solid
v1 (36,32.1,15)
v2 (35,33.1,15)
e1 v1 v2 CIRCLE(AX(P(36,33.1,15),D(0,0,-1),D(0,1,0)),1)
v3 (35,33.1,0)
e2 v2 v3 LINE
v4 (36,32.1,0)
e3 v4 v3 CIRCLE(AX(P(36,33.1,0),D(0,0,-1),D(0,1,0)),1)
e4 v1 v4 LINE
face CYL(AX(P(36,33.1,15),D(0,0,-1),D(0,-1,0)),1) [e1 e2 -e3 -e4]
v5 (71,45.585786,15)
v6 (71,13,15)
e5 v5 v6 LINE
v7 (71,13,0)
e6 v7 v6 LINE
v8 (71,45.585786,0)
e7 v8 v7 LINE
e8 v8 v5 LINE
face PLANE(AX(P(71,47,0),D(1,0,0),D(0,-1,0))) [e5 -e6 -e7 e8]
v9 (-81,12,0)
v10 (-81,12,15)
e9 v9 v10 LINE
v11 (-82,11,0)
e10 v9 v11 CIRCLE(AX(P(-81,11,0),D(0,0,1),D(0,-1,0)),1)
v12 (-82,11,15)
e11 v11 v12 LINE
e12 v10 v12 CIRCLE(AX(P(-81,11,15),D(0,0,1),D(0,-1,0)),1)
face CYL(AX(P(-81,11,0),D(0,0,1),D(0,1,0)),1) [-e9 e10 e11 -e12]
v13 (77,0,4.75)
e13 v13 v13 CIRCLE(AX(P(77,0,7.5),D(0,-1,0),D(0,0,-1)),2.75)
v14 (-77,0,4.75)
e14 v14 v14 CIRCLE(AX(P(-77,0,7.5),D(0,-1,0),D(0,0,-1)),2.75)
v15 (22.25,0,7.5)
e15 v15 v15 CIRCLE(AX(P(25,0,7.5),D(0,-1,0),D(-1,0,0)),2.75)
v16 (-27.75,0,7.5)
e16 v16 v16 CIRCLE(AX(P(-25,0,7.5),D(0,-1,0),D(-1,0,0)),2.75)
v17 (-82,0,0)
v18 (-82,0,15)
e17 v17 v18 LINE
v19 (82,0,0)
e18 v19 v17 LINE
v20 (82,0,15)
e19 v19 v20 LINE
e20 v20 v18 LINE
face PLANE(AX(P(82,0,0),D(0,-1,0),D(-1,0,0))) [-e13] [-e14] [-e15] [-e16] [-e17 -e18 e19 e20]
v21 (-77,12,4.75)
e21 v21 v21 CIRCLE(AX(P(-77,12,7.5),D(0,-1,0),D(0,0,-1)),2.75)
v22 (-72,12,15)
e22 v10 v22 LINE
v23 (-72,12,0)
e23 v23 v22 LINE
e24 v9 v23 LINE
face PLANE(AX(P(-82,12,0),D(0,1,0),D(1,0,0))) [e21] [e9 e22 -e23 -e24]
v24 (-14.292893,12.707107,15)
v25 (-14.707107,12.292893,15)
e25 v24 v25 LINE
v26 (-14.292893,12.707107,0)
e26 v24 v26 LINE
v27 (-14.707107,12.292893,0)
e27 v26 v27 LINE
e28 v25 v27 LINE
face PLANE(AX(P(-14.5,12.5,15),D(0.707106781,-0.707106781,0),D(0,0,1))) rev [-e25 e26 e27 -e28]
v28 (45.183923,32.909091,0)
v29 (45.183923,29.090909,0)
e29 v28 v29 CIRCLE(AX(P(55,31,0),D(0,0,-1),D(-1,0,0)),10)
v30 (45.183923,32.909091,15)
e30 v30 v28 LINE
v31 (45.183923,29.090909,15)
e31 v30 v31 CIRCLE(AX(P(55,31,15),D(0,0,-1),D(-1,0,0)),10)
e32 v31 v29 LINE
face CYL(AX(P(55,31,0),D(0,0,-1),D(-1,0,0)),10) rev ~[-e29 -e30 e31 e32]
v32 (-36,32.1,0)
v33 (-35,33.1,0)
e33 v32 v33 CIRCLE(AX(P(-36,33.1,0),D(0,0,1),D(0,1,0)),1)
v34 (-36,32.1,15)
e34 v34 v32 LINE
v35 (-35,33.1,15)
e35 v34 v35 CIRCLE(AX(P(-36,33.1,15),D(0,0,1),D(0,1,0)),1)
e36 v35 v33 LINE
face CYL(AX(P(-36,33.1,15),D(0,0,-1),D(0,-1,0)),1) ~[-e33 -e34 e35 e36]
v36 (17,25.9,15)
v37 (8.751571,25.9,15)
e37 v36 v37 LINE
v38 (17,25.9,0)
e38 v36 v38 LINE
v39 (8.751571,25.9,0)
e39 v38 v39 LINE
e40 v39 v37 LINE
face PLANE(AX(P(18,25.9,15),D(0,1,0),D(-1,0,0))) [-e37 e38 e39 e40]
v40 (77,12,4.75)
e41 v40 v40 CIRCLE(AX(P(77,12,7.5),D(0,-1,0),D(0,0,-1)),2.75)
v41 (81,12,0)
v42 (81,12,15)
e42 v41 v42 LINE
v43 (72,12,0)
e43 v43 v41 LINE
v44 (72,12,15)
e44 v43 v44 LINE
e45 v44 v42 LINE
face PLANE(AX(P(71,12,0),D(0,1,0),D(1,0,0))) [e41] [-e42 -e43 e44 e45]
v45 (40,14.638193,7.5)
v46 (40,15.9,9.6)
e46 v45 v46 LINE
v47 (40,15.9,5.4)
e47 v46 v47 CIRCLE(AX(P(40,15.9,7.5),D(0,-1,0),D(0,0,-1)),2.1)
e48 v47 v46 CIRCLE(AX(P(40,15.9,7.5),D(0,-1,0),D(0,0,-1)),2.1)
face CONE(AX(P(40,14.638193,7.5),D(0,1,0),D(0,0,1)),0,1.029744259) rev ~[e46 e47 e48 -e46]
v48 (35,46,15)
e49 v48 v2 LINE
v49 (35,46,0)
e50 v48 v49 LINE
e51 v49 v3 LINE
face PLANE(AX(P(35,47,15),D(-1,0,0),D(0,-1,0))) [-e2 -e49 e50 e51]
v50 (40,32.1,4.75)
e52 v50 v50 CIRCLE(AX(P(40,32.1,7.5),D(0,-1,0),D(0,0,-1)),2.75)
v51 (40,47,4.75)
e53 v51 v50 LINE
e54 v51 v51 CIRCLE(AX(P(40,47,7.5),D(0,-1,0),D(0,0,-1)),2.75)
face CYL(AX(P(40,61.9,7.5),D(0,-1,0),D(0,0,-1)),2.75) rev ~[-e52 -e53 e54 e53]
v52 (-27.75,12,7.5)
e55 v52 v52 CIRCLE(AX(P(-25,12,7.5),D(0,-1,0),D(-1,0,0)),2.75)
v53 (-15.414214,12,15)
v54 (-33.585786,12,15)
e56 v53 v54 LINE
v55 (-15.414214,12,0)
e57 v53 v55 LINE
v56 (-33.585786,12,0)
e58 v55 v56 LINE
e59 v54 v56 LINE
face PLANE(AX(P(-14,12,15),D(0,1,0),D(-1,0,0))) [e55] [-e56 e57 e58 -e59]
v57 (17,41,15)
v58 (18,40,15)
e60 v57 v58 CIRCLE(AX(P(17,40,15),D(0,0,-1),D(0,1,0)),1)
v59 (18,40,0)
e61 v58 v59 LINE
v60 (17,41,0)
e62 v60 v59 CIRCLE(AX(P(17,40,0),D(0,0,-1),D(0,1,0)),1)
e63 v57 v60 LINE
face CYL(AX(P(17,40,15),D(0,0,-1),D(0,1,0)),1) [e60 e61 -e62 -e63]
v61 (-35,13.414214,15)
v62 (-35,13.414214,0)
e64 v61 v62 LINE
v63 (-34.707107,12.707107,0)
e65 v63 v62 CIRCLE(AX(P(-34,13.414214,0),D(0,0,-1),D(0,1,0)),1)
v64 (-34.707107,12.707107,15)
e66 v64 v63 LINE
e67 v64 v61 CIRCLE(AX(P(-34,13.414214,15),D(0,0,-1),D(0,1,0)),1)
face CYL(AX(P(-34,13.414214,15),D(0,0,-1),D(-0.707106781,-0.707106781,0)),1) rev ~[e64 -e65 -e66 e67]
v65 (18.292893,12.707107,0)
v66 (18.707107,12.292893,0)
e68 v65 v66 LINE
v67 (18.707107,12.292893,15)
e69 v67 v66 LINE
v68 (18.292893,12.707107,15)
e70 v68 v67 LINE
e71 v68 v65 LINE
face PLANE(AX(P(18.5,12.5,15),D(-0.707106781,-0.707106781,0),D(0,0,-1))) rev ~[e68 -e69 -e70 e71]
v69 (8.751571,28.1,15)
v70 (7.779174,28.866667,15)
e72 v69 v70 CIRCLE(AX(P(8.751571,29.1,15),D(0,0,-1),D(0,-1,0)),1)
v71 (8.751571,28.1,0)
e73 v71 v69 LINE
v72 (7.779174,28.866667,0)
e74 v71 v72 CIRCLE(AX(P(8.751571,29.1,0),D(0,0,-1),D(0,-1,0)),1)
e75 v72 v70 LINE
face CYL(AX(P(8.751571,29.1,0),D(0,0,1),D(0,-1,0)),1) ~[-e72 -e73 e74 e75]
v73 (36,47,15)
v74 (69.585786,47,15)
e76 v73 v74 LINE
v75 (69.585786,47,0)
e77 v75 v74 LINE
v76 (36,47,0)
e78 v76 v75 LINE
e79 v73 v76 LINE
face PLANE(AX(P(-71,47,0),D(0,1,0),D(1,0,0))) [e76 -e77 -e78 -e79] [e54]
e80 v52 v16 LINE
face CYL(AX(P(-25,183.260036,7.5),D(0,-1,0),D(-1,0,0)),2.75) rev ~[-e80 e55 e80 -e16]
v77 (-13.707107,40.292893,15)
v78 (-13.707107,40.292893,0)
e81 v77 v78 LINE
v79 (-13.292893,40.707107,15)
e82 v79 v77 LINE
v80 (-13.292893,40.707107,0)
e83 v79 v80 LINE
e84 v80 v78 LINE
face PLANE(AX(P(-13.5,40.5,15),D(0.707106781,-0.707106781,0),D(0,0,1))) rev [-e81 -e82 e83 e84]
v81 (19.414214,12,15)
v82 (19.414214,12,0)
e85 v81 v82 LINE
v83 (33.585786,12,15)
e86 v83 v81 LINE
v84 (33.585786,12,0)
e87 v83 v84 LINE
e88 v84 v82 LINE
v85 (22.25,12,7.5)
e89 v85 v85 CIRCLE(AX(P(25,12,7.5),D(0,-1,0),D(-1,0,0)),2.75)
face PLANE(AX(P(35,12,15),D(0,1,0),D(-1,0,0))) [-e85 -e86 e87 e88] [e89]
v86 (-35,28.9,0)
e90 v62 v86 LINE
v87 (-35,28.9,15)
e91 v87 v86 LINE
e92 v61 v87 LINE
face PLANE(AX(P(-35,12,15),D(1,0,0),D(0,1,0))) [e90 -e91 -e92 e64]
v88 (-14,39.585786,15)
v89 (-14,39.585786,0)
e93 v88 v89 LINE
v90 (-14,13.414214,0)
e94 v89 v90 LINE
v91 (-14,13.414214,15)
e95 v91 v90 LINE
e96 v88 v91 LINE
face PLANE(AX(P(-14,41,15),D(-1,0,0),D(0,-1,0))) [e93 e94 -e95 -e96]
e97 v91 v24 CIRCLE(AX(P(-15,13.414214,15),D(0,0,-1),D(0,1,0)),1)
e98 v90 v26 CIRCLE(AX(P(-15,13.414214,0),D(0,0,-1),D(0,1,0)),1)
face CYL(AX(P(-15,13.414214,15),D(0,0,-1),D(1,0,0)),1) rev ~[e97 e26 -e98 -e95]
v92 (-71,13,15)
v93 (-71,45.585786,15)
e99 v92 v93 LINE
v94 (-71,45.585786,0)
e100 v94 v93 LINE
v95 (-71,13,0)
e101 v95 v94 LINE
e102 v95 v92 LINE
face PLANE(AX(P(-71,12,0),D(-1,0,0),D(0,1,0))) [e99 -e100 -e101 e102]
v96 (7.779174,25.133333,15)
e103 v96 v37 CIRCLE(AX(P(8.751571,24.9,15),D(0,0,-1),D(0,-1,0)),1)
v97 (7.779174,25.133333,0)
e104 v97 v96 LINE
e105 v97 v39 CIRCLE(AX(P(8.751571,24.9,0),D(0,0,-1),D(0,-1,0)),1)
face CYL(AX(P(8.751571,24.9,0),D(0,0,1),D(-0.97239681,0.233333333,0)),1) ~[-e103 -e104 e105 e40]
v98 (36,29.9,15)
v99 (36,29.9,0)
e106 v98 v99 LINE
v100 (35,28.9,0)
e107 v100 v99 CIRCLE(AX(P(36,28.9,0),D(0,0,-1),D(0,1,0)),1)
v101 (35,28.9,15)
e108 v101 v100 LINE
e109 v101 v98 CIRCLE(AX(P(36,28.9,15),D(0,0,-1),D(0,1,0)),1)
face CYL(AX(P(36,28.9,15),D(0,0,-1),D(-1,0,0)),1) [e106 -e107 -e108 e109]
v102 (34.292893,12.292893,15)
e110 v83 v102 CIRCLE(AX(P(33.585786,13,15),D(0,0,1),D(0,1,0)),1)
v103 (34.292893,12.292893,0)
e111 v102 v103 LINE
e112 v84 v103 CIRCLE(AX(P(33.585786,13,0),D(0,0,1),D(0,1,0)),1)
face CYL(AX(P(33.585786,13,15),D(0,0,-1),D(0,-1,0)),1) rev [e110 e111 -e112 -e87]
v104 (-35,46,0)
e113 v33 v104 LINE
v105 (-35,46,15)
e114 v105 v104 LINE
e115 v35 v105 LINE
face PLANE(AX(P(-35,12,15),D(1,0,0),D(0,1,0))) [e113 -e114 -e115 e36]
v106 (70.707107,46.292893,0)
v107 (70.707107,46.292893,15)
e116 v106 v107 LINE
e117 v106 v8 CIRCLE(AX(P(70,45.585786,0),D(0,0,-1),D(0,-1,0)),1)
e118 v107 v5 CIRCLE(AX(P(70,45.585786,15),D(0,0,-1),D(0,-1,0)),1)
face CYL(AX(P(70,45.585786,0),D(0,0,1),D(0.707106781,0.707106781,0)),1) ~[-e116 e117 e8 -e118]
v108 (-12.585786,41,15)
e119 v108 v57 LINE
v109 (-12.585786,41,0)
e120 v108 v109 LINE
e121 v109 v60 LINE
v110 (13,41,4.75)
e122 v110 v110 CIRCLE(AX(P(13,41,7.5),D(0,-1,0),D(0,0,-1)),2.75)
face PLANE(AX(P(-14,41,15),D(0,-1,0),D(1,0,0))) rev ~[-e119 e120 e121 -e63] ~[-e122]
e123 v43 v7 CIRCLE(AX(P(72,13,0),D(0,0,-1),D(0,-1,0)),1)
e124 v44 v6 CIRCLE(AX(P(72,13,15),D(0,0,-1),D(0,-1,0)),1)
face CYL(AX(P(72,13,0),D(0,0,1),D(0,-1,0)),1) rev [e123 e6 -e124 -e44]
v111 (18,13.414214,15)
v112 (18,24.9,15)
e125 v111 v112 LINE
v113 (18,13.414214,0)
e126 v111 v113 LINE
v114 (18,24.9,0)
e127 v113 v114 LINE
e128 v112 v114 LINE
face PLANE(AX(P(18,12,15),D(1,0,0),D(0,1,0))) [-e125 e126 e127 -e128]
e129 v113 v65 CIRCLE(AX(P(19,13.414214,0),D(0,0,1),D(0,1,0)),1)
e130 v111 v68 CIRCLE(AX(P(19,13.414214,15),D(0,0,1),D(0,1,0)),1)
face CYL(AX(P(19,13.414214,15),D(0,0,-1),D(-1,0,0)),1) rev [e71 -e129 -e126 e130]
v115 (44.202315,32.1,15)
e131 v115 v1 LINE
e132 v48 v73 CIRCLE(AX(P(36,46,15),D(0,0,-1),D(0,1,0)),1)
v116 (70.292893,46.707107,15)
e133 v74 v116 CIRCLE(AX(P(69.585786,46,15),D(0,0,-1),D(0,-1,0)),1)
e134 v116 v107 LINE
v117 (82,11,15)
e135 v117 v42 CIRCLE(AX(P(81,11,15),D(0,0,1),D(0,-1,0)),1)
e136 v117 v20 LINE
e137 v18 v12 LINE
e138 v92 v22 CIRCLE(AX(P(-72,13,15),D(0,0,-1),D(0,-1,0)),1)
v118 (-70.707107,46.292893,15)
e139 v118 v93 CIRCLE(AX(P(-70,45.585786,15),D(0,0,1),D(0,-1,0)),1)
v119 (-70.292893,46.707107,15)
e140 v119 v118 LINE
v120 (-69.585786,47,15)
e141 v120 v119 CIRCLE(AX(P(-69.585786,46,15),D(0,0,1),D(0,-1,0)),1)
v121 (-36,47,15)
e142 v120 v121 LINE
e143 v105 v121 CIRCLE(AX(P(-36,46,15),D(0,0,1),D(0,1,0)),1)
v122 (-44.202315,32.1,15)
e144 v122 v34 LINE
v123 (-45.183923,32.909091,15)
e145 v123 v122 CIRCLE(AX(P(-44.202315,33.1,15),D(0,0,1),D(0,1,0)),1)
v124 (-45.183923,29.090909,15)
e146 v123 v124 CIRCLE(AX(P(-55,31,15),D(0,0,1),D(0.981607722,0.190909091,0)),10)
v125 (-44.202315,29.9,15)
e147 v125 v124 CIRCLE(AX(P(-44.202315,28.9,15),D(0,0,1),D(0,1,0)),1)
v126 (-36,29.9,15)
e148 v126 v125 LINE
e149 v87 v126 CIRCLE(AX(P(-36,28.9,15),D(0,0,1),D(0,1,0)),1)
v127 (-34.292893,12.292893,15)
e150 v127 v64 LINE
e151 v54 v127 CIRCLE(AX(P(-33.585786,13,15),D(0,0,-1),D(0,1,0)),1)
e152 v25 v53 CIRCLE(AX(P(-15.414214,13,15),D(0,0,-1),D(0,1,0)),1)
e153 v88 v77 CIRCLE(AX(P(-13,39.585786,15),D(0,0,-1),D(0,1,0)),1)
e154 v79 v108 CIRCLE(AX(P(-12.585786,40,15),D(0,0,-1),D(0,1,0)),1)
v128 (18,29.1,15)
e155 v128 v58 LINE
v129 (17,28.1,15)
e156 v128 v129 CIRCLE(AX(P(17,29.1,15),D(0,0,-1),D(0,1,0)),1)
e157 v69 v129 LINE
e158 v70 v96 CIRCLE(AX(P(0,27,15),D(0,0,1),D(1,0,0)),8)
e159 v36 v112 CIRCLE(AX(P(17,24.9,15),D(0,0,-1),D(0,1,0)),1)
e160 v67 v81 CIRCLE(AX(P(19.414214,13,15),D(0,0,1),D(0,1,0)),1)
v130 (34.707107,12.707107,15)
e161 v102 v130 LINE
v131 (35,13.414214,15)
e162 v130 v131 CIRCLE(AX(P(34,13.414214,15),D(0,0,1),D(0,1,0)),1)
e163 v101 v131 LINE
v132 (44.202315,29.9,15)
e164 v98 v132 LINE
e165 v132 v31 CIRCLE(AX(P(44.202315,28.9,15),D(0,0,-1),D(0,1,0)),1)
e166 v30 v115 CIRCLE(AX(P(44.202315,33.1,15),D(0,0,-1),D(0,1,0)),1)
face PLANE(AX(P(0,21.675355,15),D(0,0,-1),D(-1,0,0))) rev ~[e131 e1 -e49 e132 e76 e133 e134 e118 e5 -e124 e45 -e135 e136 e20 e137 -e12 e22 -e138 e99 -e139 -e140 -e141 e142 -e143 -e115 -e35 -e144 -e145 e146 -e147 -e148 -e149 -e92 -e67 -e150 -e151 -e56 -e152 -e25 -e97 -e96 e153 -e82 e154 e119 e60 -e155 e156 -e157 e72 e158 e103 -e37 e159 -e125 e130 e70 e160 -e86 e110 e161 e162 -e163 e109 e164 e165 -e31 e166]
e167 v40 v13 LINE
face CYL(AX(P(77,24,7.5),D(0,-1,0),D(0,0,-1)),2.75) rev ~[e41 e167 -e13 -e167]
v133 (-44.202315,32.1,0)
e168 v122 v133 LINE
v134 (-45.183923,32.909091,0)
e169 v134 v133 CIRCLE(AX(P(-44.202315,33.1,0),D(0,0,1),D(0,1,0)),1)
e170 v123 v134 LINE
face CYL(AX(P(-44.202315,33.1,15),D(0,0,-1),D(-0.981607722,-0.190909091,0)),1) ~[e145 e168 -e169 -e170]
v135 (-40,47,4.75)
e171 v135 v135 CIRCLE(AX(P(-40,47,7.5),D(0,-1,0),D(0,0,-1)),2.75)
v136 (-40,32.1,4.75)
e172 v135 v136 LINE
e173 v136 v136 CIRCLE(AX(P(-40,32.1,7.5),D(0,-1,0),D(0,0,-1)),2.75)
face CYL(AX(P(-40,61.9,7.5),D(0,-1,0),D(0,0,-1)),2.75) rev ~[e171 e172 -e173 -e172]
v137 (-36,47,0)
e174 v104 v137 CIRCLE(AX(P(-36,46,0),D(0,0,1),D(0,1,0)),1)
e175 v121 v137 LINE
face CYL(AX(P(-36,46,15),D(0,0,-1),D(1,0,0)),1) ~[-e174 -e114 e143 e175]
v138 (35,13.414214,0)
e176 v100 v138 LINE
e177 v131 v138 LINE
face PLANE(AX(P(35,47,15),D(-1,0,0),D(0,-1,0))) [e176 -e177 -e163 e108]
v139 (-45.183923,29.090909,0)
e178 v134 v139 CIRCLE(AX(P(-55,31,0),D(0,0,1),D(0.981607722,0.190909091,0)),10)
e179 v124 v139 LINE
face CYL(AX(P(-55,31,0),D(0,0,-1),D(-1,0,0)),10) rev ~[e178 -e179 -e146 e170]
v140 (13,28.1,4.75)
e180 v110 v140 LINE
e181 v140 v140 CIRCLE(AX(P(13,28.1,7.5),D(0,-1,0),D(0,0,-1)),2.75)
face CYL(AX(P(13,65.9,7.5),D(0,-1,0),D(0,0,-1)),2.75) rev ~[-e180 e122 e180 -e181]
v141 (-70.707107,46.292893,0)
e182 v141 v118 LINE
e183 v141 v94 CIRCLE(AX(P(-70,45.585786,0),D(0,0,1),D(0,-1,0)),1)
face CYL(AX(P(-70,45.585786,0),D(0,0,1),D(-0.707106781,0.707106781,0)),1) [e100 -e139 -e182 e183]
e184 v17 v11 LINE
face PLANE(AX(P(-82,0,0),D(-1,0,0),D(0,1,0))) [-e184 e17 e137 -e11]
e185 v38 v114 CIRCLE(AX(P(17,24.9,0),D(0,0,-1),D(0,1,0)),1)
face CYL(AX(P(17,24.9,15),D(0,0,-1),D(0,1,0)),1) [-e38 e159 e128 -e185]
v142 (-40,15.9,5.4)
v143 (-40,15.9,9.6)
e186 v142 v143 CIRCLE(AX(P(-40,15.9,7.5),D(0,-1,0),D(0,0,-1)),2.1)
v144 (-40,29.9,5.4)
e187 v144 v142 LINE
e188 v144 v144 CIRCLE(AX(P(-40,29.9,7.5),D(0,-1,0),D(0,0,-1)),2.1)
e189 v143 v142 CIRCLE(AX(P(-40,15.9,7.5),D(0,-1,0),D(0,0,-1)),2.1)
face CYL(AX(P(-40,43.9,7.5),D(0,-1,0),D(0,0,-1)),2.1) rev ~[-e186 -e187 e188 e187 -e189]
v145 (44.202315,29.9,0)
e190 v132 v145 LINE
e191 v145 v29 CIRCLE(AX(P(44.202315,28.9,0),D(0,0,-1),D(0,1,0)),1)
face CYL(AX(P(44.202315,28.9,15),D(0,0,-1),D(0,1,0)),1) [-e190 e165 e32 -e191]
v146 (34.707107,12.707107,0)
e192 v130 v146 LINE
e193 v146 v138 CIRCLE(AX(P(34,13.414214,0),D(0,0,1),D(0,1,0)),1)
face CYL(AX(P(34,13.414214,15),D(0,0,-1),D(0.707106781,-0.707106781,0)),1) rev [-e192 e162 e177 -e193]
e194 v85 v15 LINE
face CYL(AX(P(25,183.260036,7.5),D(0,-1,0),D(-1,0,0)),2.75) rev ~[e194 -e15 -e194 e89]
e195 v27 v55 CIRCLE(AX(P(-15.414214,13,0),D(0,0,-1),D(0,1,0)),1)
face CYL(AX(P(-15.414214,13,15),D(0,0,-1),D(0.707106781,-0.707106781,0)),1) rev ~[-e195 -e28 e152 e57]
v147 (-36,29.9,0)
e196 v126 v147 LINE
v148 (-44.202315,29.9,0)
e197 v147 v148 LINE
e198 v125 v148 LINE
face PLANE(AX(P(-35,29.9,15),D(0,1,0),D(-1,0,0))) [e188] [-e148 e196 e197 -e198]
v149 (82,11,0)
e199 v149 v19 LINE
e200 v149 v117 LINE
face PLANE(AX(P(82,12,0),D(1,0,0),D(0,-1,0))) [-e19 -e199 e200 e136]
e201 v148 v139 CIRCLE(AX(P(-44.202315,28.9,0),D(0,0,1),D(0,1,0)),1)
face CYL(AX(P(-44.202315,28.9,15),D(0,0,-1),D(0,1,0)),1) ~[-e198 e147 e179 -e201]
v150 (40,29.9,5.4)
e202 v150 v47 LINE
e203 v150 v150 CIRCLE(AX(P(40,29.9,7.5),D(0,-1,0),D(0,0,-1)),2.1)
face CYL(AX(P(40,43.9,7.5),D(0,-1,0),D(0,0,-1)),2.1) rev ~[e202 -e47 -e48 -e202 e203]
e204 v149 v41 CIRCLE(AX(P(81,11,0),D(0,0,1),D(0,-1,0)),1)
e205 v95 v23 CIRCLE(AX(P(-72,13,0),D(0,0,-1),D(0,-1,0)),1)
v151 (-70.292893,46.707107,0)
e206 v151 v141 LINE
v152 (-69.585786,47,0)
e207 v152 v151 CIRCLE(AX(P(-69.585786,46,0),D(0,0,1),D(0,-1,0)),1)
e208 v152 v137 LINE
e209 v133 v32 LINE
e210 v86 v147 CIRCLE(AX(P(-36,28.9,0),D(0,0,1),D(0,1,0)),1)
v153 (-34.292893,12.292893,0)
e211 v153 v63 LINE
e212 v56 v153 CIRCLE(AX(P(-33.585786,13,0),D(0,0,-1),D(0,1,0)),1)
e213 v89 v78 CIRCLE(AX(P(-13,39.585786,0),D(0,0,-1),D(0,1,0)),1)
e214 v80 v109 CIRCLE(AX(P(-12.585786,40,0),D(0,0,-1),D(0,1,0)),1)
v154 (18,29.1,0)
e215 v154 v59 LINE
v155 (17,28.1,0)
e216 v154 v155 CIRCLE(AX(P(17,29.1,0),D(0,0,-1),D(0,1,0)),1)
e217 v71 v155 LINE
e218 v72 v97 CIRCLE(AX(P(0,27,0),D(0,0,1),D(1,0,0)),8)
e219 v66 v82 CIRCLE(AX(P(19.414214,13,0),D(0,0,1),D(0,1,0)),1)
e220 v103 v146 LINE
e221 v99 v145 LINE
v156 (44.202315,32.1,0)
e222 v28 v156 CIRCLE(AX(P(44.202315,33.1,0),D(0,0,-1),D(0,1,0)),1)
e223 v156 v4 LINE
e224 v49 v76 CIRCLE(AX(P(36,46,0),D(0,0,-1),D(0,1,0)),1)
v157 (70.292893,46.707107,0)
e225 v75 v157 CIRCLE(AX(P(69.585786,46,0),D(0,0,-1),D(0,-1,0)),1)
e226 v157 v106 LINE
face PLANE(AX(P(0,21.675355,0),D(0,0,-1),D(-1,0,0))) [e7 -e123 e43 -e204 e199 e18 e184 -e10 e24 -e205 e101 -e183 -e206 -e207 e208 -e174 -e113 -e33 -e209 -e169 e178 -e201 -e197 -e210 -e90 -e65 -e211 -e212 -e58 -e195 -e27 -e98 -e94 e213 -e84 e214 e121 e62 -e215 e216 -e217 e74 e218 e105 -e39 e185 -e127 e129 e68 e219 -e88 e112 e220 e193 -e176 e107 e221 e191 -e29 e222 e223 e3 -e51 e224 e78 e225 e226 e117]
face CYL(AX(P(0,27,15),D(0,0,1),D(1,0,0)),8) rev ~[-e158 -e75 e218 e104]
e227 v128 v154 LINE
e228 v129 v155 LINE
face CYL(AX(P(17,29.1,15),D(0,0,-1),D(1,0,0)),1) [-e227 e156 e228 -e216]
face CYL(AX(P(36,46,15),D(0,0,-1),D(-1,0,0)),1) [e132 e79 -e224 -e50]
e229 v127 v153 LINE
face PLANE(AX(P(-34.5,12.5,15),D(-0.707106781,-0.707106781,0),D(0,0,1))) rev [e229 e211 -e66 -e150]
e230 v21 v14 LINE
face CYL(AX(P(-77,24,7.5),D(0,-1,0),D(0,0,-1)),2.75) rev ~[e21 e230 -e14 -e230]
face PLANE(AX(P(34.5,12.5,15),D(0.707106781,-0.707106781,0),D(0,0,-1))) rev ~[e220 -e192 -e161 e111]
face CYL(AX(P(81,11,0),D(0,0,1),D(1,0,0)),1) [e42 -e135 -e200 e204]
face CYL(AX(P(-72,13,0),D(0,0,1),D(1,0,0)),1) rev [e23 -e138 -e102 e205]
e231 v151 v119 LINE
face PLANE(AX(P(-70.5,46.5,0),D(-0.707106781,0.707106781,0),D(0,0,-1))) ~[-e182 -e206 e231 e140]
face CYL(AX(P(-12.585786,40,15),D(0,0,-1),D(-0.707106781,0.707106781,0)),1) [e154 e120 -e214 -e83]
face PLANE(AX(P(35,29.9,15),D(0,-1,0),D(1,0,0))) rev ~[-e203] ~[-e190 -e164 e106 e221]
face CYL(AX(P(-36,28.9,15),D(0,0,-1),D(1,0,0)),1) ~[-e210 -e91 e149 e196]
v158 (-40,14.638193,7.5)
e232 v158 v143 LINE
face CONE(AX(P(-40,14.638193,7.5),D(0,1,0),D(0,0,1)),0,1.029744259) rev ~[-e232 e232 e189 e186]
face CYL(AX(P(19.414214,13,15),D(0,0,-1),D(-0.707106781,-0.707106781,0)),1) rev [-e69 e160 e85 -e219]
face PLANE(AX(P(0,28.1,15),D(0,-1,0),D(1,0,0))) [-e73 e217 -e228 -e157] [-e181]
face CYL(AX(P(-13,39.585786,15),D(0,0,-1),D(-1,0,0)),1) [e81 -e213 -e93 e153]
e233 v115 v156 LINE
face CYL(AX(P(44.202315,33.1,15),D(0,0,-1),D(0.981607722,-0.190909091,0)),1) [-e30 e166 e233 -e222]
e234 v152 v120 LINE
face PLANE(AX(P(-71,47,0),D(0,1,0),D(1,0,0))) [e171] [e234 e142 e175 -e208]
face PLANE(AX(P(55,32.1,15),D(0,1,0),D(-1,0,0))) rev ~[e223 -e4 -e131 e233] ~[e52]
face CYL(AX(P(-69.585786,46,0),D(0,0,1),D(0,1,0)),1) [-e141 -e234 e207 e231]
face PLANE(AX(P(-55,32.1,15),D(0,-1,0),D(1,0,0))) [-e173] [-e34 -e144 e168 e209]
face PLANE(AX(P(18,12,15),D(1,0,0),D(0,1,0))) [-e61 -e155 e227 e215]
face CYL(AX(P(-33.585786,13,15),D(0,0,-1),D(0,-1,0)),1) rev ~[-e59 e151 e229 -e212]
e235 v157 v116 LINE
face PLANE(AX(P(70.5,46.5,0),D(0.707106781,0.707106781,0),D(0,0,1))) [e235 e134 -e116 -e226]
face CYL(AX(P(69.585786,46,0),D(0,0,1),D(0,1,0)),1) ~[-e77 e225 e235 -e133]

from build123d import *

# Parameters (mm, degrees)
BOSS_EXTRUDE1_DEPTH            = 15
CUT_EXTRUDE1_REACH             = 17
SKETCH2_R                      = 8
CUT_EXTRUDE2_REACH             = 17
SKETCH3_R                      = 10
F_5_5_5_5_DIAMETER_HOLE1_D     = 5.5
F_5_5_5_5_DIAMETER_HOLE1_DEPTH = 12
CUT_EXTRUDE3_REACH             = 17
CUT_EXTRUDE4_REACH             = 17
F_5_5_5_5_DIAMETER_HOLE2_D     = 5.5
F_5_5_5_5_DIAMETER_HOLE2_DEPTH = 14.9
F_5_5_5_5_DIAMETER_HOLE3_D     = 5.5
F_5_5_5_5_DIAMETER_HOLE3_DEPTH = 18.9
M5_TAPPED_HOLE2_D              = 4.2
M5_TAPPED_HOLE2_DEPTH          = 14
M5_TAPPED_HOLE2_TIP            = 1.2618073
CHAMFER1_SIZE                  = 1
CHAMFER2_SIZE                  = 1
CHAMFER3_SIZE                  = 1
FILLET1_R                      = 1
F_5_5_5_5_DIAMETER_HOLE4_D     = 5.5


with BuildPart() as part:
    # Sketch1 → Boss-Extrude1 (new body)
    with BuildSketch(Plane.XY):
        Polygon((82, 0), (-82, 0), (-82, 12), (-71, 12), (-71, 47), (71, 47), (71, 12), (82, 12), align=None)
    extrude(amount=BOSS_EXTRUDE1_DEPTH)

    # Sketch2 → Cut-Extrude1 (cut, up to next)
    with BuildSketch(Plane.XY.offset(15), mode=Mode.PRIVATE) as cut_extrude1_sk1:
        with Locations((0, 27)):
            Circle(SKETCH2_R)
    cut_extrude1_tool1 = extrude(cut_extrude1_sk1.sketch, amount=-CUT_EXTRUDE1_REACH, mode=Mode.PRIVATE) & part.part
    add(cut_extrude1_tool1.solids().sort_by_distance((0, 27, 15))[0], mode=Mode.SUBTRACT)

    # Sketch3 → Cut-Extrude2 (cut, up to next)
    with BuildSketch(Plane(origin=(0, 0, 0), x_dir=(-1, 0, 0), z_dir=(0, 0, -1)), mode=Mode.PRIVATE) as cut_extrude2_sk1:
        with Locations((-55, 31)):
            Circle(SKETCH3_R)
    cut_extrude2_tool1 = extrude(cut_extrude2_sk1.sketch, amount=-CUT_EXTRUDE2_REACH, mode=Mode.PRIVATE) & part.part
    add(cut_extrude2_tool1.solids().sort_by_distance((55, 31, 0))[0], mode=Mode.SUBTRACT)
    # Sketch3 → Cut-Extrude2 (cut, up to next)
    with BuildSketch(Plane(origin=(0, 0, 0), x_dir=(-1, 0, 0), z_dir=(0, 0, -1)), mode=Mode.PRIVATE) as cut_extrude2_sk2:
        with Locations((55, 31)):
            Circle(SKETCH3_R)
    cut_extrude2_tool2 = extrude(cut_extrude2_sk2.sketch, amount=-CUT_EXTRUDE2_REACH, mode=Mode.PRIVATE) & part.part
    add(cut_extrude2_tool2.solids().sort_by_distance((-55, 31, 0))[0], mode=Mode.SUBTRACT)

    # Ø5.5 (5.5) Diameter Hole1
    with Locations(Plane(origin=(-77, 12, 7.5), x_dir=(0, 0, 1), z_dir=(0, 1, 0))):
        with Locations((0, 0), (0, 154)):
            Hole(F_5_5_5_5_DIAMETER_HOLE1_D / 2, depth=F_5_5_5_5_DIAMETER_HOLE1_DEPTH)

    # Sketch9 → Cut-Extrude3 (cut, up to next)
    with BuildSketch(Plane.XY.offset(15), mode=Mode.PRIVATE) as cut_extrude3_sk1:
        Polygon((0, 41), (-14, 41), (-14, 12), (-35, 12), (-35, 47), (35, 47), (35, 12), (18, 12), (18, 41), align=None)
    cut_extrude3_tool1 = extrude(cut_extrude3_sk1.sketch, amount=-CUT_EXTRUDE3_REACH, mode=Mode.PRIVATE) & part.part
    add(cut_extrude3_tool1.solids().sort_by_distance((-7, 41.782624, 15))[0], mode=Mode.SUBTRACT)

    # Sketch10 → Cut-Extrude4 (cut, up to next)
    with BuildSketch(Plane.XY.offset(15), mode=Mode.PRIVATE) as cut_extrude4_sk1:
        Polygon((-55, 31), (-55, 32.1), (-35, 32.1), (-35, 29.9), (-55, 29.9), align=None)
    cut_extrude4_tool1 = extrude(cut_extrude4_sk1.sketch, amount=-CUT_EXTRUDE4_REACH, mode=Mode.PRIVATE) & part.part
    add(cut_extrude4_tool1.solids().sort_by_distance((-45, 31, 15))[0], mode=Mode.SUBTRACT)
    # Sketch10 → Cut-Extrude4 (cut, up to next)
    with BuildSketch(Plane.XY.offset(15), mode=Mode.PRIVATE) as cut_extrude4_sk2:
        Polygon((55, 31), (55, 32.1), (35, 32.1), (35, 29.9), (55, 29.9), align=None)
    cut_extrude4_tool2 = extrude(cut_extrude4_sk2.sketch, amount=-CUT_EXTRUDE4_REACH, mode=Mode.PRIVATE) & part.part
    add(cut_extrude4_tool2.solids().sort_by_distance((45, 31, 15))[0], mode=Mode.SUBTRACT)
    # Sketch10 → Cut-Extrude4 (cut, up to next)
    with BuildSketch(Plane.XY.offset(15), mode=Mode.PRIVATE) as cut_extrude4_sk3:
        Polygon((0, 27), (0, 28.1), (18, 28.1), (18, 25.9), (0, 25.9), align=None)
    cut_extrude4_tool3 = extrude(cut_extrude4_sk3.sketch, amount=-CUT_EXTRUDE4_REACH, mode=Mode.PRIVATE) & part.part
    add(cut_extrude4_tool3.solids().sort_by_distance((9, 27, 15))[0], mode=Mode.SUBTRACT)

    # Ø5.5 (5.5) Diameter Hole2
    with Locations(Plane(origin=(-40, 47, 7.5), x_dir=(0, 0, 1), z_dir=(0, 1, 0))):
        with Locations((0, 0), (0, 80)):
            Hole(F_5_5_5_5_DIAMETER_HOLE2_D / 2, depth=F_5_5_5_5_DIAMETER_HOLE2_DEPTH)

    # Ø5.5 (5.5) Diameter Hole3
    with Locations(Plane(origin=(13, 47, 7.5), x_dir=(0, 0, 1), z_dir=(0, 1, 0))):
        with Locations((0, 0)):
            Hole(F_5_5_5_5_DIAMETER_HOLE3_D / 2, depth=F_5_5_5_5_DIAMETER_HOLE3_DEPTH)

    # M5 Tapped Hole2
    with Locations(Plane(origin=(-40, 29.9, 7.5), x_dir=(0, 0, 1), z_dir=(0, 1, 0))):
        with Locations((0, 0), (0, 80)):
            Hole(M5_TAPPED_HOLE2_D / 2, depth=M5_TAPPED_HOLE2_DEPTH)
            with Locations((0, 0, -(M5_TAPPED_HOLE2_DEPTH + M5_TAPPED_HOLE2_TIP / 2))):  # 118° drill point
                Cone(0, M5_TAPPED_HOLE2_D / 2, M5_TAPPED_HOLE2_TIP, mode=Mode.SUBTRACT)

    # Chamfer1
    chamfer1_edges = [part.edges().sort_by_distance(p)[0] for p in [
        (-71, 47, 7.5),
        (71, 47, 7.5),
    ]]
    chamfer(chamfer1_edges, length=CHAMFER1_SIZE)

    # Chamfer2
    chamfer2_edges = [part.edges().sort_by_distance(p)[0] for p in [
        (-14, 41, 7.5),
    ]]
    chamfer(chamfer2_edges, length=CHAMFER2_SIZE)

    # Chamfer3
    chamfer3_edges = [part.edges().sort_by_distance(p)[0] for p in [
        (-14, 12, 7.5),
        (-35, 12, 7.5),
        (35, 12, 7.5),
        (18, 12, 7.5),
    ]]
    chamfer(chamfer3_edges, length=CHAMFER3_SIZE)

    # Fillet1
    fillet1_edges = [part.edges().sort_by_distance(p)[0] for p in [
        (35, 29.9, 7.5),
        (35, 32.1, 7.5),
        (45.060684128, 29.9, 7.5),
        (45.060684128, 32.1, 7.5),
        (18, 28.1, 7.5),
        (18, 25.9, 7.5),
        (7.924014134, 28.1, 7.5),
        (7.924014134, 25.9, 7.5),
        (71, 12, 7.5),
        (82, 12, 7.5),
        (-82, 12, 7.5),
        (-71, 12, 7.5),
        (-71, 46, 7.5),
        (-70, 47, 7.5),
        (70, 47, 7.5),
        (71, 46, 7.5),
        (-13, 41, 7.5),
        (-14, 40, 7.5),
        (35, 13, 7.5),
        (19, 12, 7.5),
        (34, 12, 7.5),
        (18, 13, 7.5),
        (-14, 13, 7.5),
        (-34, 12, 7.5),
        (-15, 12, 7.5),
        (-35, 13, 7.5),
        (18, 41, 7.5),
        (-35, 47, 7.5),
        (35, 47, 7.5),
        (-45.060684128, 32.1, 7.5),
        (-45.060684128, 29.9, 7.5),
        (-35, 32.1, 7.5),
        (-35, 29.9, 7.5),
    ]]
    fillet(fillet1_edges, radius=FILLET1_R)

    # Ø5.5 (5.5) Diameter Hole4 (through all)
    with Locations(Plane(origin=(-25, 12, 7.5), x_dir=(1, 0, 0), z_dir=(0, 1, 0))):
        with Locations((0, 0), (50, 0)):
            Hole(F_5_5_5_5_DIAMETER_HOLE4_D / 2)


solid = part.part
